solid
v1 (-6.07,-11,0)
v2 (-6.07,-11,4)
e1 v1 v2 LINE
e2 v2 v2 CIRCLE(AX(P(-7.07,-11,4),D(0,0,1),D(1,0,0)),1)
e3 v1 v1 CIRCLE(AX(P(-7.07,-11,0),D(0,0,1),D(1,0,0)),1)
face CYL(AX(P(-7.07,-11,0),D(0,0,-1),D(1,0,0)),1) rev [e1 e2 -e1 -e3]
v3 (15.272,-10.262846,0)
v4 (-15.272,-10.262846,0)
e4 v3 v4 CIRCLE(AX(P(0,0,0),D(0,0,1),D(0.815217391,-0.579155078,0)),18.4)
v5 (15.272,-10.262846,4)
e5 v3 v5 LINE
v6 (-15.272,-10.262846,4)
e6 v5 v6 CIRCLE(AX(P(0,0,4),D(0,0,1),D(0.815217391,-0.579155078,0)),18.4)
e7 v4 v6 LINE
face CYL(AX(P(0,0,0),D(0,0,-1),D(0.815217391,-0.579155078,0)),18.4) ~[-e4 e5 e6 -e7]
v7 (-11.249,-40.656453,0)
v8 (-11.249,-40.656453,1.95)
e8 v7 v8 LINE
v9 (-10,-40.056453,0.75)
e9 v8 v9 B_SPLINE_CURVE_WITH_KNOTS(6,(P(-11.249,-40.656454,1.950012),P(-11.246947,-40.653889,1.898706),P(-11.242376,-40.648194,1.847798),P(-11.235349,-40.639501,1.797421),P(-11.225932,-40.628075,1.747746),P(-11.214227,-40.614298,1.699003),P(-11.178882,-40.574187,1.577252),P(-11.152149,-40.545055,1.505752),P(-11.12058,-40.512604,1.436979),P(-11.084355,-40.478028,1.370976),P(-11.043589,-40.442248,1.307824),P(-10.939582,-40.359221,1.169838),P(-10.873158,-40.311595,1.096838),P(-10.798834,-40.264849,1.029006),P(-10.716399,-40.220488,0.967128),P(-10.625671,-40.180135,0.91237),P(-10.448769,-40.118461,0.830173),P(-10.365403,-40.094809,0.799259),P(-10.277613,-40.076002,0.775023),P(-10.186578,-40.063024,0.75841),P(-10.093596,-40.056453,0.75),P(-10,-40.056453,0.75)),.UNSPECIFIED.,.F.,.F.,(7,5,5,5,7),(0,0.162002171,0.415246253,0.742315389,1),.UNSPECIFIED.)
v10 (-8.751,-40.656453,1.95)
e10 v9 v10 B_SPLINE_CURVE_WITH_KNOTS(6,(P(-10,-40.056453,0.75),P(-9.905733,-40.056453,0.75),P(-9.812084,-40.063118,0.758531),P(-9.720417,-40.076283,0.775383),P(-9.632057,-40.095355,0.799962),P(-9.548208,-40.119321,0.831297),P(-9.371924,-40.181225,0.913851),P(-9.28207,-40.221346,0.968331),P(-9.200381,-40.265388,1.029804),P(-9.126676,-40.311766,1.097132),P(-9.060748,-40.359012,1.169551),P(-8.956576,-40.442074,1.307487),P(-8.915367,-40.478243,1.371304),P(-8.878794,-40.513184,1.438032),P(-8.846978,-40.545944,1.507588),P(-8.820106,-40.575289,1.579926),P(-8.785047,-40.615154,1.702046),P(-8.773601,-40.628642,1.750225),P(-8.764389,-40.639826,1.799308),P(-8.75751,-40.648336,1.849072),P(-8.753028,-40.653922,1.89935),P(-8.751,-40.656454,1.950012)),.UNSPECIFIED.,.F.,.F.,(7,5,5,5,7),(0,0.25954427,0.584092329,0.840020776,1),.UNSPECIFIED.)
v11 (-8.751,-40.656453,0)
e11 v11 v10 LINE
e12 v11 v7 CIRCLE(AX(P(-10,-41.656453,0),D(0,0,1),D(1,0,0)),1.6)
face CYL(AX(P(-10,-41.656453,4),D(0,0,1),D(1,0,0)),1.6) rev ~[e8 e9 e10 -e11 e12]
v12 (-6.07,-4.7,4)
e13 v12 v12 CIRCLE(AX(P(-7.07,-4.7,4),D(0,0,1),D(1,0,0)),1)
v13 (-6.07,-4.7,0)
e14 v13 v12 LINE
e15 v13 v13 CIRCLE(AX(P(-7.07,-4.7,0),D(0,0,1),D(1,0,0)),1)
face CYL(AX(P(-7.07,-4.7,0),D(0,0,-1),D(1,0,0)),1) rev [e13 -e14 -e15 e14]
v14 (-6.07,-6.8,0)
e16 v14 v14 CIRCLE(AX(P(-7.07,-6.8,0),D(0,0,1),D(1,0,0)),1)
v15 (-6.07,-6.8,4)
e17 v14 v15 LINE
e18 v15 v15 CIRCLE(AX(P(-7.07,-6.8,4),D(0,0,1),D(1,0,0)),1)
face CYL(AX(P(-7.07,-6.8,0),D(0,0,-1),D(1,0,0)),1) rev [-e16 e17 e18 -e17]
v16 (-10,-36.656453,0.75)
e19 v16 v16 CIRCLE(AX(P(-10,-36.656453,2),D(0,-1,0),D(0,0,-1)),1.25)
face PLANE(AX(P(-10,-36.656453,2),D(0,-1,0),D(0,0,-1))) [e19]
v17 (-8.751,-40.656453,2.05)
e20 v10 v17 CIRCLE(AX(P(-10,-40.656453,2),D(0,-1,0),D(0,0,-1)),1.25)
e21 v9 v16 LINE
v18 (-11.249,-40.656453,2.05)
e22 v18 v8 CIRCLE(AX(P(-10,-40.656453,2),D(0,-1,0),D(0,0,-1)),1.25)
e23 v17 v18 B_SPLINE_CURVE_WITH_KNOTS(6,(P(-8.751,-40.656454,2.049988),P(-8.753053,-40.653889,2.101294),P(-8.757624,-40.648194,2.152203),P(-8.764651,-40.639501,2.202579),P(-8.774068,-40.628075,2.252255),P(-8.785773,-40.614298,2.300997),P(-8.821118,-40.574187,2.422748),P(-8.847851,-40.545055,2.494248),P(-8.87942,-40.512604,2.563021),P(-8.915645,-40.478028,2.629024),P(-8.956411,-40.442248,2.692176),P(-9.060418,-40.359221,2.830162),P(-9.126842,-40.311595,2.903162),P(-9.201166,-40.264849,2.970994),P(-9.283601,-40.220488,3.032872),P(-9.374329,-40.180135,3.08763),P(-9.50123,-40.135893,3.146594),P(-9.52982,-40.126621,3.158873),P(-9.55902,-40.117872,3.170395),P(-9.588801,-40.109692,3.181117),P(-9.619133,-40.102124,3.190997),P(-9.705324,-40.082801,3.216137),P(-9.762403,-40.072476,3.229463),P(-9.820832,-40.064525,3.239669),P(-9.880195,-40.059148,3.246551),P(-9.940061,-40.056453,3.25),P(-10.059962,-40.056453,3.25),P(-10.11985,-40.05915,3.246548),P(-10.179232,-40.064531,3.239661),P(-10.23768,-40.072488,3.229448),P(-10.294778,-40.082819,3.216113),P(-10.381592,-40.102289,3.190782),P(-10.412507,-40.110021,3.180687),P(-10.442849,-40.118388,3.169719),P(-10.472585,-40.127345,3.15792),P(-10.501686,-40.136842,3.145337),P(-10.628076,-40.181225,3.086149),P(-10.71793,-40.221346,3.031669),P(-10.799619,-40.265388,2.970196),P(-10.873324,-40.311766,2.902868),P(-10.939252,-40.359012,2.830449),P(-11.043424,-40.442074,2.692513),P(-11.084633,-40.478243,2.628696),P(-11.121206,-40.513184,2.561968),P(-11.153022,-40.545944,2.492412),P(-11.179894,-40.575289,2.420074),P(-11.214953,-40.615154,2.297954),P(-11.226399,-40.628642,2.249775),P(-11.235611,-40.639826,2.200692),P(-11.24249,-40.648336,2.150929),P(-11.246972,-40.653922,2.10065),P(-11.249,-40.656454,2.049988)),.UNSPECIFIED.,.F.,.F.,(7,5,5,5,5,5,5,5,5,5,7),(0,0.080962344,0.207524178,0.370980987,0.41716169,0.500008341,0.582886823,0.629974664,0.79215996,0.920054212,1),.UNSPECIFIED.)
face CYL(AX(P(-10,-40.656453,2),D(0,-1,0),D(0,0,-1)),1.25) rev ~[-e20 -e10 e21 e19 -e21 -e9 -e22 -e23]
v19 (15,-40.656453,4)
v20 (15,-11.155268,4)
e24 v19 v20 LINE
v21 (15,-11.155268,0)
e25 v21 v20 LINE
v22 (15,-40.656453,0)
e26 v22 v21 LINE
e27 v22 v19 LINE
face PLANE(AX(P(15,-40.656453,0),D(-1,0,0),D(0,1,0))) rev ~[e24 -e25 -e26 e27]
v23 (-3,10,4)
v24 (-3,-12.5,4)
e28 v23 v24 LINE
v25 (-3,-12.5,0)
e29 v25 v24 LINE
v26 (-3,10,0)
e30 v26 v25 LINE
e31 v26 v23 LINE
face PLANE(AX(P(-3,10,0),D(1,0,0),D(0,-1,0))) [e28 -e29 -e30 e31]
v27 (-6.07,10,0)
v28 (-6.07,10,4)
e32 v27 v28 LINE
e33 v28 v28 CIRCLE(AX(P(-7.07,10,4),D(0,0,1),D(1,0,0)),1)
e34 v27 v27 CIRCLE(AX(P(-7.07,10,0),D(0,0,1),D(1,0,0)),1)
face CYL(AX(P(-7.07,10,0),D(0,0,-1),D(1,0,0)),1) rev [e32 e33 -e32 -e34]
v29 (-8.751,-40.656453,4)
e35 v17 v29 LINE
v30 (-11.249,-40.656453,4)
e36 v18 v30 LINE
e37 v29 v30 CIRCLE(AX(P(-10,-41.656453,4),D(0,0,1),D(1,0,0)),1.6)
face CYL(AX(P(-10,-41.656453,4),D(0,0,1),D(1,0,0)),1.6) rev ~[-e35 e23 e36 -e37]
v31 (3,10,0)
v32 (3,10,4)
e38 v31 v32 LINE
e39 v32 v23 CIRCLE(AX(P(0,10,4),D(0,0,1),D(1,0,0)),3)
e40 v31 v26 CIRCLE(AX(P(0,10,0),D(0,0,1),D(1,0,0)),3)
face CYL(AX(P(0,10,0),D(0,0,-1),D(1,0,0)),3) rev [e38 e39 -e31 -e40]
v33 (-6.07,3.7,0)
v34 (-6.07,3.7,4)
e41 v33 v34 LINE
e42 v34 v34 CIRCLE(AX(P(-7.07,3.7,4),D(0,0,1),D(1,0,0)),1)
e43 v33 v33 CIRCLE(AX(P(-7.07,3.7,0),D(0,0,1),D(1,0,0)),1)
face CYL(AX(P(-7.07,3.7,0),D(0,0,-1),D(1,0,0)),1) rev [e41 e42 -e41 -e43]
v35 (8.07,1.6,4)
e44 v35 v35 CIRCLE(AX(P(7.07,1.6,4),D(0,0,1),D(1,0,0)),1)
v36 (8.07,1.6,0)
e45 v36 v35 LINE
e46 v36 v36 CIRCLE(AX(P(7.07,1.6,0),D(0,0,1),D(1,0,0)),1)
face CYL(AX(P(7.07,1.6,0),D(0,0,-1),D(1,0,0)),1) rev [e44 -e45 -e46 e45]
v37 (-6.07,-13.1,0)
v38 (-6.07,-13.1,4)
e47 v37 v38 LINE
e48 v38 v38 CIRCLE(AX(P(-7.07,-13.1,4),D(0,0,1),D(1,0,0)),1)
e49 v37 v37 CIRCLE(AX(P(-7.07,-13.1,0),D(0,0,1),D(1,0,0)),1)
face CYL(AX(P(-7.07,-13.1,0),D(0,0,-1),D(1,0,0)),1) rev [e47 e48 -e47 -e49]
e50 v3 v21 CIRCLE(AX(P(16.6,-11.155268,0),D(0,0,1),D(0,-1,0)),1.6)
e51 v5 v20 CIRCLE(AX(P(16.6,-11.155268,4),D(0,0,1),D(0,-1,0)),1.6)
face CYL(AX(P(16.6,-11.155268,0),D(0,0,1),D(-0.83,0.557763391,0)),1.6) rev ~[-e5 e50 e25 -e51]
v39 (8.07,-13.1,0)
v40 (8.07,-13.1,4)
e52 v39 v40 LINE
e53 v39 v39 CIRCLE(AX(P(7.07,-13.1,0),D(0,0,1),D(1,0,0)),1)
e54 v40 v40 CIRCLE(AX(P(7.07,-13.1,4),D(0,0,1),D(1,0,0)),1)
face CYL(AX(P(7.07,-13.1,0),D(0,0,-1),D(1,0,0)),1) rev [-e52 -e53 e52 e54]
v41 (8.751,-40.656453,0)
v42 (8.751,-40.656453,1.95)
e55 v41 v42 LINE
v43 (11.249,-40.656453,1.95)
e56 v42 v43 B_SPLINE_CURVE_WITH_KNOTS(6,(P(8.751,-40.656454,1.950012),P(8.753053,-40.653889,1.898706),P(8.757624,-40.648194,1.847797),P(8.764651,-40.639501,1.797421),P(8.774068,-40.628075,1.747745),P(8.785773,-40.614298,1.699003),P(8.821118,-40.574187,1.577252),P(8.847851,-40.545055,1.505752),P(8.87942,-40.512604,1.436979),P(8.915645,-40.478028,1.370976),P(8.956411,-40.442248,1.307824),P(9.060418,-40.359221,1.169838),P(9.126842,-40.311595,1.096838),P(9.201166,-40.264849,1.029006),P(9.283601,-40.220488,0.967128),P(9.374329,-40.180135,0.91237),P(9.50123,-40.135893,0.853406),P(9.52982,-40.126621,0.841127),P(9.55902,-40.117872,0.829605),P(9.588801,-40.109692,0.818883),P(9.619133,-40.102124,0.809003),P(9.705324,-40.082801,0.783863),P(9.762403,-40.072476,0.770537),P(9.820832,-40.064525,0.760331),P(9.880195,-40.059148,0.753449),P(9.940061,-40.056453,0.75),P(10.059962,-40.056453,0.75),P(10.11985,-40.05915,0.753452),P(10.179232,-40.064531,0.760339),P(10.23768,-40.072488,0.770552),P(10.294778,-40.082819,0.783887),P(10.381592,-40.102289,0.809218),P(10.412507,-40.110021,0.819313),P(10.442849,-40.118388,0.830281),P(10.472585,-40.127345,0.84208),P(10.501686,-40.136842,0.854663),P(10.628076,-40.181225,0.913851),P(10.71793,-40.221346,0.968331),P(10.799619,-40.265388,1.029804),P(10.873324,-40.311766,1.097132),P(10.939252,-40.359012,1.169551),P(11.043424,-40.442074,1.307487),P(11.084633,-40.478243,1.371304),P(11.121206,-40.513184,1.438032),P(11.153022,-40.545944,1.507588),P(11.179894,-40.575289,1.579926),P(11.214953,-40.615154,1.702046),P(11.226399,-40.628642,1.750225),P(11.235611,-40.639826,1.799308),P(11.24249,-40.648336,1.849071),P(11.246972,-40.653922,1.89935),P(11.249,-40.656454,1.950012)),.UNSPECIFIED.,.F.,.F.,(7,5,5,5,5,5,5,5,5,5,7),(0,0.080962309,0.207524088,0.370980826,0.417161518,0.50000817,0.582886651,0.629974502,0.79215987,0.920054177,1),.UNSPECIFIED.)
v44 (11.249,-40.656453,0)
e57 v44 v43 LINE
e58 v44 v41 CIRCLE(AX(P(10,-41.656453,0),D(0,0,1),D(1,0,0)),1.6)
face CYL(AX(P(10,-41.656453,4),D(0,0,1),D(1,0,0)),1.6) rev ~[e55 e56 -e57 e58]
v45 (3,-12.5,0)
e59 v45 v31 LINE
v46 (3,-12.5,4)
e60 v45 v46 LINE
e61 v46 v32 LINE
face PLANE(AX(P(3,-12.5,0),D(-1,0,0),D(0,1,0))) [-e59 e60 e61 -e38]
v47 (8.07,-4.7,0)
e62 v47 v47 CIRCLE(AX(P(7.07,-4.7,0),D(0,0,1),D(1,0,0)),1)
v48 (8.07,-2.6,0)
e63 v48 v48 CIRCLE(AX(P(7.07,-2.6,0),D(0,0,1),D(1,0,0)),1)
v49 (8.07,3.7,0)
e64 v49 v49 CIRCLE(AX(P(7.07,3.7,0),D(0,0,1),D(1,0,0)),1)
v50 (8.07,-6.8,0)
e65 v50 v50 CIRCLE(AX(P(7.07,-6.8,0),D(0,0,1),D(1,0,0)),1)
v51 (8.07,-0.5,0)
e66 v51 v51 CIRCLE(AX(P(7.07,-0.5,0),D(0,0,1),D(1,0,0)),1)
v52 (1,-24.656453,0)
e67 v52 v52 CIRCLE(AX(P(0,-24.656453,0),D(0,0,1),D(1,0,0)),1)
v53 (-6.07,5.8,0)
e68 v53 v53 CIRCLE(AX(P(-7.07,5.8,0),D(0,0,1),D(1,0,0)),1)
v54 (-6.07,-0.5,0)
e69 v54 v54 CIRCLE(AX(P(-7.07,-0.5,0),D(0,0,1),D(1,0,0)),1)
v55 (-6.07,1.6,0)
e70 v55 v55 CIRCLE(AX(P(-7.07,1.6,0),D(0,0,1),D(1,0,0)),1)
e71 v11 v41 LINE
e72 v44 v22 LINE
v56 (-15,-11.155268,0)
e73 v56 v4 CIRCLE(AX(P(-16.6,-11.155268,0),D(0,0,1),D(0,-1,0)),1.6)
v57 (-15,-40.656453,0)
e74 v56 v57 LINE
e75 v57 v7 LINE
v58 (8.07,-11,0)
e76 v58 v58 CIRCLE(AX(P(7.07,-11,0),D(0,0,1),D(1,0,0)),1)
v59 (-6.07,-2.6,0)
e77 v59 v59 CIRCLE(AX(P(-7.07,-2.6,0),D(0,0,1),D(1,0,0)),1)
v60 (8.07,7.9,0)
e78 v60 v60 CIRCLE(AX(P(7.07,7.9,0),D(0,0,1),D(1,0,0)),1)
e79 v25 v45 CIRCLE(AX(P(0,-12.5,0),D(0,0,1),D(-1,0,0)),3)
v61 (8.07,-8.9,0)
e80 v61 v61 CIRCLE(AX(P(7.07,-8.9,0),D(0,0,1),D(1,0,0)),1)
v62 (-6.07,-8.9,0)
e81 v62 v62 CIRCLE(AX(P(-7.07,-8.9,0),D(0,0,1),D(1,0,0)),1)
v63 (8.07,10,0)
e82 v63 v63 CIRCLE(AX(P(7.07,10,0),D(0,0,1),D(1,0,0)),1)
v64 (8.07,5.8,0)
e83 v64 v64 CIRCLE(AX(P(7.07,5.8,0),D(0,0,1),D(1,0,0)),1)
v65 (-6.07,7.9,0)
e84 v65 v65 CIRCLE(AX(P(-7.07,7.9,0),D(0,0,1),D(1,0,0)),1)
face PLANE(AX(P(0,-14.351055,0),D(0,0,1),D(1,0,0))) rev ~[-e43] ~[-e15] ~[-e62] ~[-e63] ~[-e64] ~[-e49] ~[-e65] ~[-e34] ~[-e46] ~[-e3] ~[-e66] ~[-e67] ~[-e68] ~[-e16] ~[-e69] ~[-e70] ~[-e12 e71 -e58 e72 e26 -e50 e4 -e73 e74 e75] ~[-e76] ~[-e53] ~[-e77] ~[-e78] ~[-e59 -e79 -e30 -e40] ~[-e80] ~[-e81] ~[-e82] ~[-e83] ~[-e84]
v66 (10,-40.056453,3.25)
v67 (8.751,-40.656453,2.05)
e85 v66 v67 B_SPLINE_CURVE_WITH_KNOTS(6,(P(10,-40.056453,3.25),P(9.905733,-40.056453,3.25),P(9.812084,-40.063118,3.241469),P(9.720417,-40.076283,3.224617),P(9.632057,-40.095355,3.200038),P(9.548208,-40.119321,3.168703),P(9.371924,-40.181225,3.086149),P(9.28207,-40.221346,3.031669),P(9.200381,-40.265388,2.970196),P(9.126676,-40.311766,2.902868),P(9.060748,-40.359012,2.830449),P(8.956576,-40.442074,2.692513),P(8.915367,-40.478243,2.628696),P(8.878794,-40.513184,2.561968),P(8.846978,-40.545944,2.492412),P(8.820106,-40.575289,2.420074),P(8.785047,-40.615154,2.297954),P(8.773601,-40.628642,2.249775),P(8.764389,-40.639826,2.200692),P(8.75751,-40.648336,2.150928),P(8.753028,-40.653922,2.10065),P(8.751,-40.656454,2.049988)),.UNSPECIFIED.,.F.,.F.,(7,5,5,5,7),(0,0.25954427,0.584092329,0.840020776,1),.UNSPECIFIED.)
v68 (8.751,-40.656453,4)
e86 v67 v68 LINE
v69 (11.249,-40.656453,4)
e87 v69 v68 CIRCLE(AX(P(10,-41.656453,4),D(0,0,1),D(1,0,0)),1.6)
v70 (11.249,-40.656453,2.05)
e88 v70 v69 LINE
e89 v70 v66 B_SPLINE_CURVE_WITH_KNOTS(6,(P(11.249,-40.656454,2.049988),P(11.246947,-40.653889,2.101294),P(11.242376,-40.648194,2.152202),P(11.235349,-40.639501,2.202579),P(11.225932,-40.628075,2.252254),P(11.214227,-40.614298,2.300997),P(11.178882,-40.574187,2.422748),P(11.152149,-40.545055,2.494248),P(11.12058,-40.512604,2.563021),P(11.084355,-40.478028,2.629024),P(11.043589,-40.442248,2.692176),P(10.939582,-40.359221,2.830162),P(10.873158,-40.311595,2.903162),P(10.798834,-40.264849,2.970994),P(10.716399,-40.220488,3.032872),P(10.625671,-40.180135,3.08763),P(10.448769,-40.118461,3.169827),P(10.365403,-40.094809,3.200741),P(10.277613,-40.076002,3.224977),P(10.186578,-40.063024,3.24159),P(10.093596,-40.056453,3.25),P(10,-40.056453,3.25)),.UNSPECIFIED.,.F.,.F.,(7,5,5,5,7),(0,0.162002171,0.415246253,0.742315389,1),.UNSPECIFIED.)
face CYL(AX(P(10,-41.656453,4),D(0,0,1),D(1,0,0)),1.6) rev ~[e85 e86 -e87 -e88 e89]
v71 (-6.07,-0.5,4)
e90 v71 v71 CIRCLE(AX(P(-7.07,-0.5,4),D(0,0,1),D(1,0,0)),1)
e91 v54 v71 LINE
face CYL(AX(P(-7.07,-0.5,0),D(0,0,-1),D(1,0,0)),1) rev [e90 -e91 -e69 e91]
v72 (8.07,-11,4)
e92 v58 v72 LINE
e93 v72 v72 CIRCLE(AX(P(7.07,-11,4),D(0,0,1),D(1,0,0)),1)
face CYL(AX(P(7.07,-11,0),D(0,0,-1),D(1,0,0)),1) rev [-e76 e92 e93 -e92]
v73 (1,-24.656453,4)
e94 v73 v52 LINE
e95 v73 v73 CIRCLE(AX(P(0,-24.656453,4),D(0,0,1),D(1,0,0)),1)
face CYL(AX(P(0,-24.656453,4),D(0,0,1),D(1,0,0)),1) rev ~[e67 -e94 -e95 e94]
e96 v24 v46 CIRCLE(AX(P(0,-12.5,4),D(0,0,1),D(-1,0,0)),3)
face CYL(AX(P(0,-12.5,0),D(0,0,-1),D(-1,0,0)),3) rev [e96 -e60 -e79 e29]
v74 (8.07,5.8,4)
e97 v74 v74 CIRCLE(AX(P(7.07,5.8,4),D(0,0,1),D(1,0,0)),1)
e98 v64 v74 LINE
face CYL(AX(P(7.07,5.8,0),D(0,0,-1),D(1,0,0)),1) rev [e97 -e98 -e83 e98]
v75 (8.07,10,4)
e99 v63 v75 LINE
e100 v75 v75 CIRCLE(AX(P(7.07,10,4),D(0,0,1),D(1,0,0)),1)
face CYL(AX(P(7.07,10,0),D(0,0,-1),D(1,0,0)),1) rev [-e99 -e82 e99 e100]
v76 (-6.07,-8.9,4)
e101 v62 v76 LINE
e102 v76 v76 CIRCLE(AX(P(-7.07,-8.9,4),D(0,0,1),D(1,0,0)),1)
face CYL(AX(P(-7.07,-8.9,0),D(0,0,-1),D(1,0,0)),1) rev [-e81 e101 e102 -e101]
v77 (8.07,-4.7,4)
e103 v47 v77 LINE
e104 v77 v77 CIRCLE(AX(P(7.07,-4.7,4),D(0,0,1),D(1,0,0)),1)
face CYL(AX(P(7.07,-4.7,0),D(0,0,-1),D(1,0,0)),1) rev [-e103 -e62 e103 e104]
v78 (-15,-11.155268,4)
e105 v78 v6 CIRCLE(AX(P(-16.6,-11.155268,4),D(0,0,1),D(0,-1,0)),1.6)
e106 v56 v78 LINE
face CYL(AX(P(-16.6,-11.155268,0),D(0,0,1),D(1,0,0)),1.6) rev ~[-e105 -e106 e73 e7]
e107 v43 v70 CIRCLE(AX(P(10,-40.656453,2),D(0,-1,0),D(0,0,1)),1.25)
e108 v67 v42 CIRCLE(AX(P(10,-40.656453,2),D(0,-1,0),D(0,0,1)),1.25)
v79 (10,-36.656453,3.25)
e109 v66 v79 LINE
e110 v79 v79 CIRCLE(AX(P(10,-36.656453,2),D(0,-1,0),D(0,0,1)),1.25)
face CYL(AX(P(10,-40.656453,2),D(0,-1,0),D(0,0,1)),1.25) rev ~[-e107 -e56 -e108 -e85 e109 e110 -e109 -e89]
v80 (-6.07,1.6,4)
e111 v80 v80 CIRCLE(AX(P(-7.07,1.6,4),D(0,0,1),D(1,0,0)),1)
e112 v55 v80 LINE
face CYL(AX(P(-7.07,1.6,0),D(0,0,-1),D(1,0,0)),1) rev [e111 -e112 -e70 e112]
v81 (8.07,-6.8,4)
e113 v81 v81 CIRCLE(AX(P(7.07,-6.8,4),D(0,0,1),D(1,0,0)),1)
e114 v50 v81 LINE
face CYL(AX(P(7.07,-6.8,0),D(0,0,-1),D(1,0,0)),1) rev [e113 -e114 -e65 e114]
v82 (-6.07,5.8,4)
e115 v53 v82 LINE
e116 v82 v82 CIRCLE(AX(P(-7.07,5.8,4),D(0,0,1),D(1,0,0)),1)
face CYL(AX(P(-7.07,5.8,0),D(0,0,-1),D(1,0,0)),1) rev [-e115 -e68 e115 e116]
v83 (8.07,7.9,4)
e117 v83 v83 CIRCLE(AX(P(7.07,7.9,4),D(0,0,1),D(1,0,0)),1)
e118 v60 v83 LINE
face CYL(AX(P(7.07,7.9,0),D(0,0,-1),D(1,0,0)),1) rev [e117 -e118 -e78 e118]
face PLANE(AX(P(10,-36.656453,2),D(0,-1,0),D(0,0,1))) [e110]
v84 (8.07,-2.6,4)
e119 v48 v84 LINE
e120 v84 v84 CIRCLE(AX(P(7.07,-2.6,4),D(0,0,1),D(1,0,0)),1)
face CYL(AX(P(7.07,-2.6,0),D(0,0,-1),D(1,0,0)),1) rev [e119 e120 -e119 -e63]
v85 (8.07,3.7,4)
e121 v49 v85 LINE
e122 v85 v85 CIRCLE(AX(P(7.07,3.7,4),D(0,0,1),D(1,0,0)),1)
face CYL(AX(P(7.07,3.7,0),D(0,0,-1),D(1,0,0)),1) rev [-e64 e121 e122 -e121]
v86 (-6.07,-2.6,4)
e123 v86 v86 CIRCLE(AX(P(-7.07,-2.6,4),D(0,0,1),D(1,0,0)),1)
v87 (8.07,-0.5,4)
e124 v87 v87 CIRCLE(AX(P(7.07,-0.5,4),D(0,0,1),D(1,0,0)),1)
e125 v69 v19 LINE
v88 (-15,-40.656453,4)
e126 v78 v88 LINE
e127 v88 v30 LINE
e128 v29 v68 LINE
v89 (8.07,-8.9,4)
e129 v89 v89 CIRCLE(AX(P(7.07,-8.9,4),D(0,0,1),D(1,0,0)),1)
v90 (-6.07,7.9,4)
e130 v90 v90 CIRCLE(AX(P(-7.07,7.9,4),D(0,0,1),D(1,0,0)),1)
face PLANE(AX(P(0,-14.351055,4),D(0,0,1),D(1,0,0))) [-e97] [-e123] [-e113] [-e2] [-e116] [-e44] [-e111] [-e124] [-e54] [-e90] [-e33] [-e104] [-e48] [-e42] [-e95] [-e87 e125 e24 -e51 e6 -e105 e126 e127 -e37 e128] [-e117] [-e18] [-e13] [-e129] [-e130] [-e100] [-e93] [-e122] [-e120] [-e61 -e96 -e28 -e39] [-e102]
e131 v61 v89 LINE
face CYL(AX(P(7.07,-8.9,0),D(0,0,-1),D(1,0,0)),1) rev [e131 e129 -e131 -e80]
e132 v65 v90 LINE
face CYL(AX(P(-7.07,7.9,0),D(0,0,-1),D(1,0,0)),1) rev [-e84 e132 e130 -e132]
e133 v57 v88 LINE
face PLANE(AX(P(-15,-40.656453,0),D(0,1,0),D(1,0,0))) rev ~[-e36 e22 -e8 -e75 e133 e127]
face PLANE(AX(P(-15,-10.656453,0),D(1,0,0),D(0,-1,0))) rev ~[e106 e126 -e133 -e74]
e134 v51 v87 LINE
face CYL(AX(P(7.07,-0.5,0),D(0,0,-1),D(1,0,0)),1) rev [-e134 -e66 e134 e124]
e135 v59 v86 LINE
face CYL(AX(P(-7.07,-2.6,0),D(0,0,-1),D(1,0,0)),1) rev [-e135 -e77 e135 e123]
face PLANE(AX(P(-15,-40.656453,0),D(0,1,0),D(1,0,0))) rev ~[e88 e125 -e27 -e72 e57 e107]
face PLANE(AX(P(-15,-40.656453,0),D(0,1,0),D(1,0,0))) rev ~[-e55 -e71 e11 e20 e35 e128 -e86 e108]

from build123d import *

# Parameters (mm, degrees)
CROQUIS1_R              = 1
SALIENTE_EXTRUIR1_DEPTH = 4
CROQUIS3_R              = 1.25
CORTAR_EXTRUIR1_DEPTH   = 4
CROQUIS4_R              = 1.6
CORTAR_EXTRUIR2_DEPTH   = 4
REDONDEO1_R             = 1.6
CROQUIS5_R              = 1
CORTAR_EXTRUIR3_DEPTH   = 4


with BuildPart() as part:
    # Croquis1 → Saliente-Extruir1 (new body)
    with BuildSketch(Plane.XY):
        with BuildLine():
            Line((-15, -10.656453444), (-15, -40.656453444))
            Line((-15, -40.656453444), (15, -40.656453444))
            Line((15, -40.656453444), (15, -10.656453444))
            ThreePointArc((15, -10.656453444), (0, 18.4), (-15, -10.656453444))
        make_face()
        with Locations((-7.07, 10)):
            Circle(CROQUIS1_R, mode=Mode.SUBTRACT)
        with Locations((7.07, 10)):
            Circle(CROQUIS1_R, mode=Mode.SUBTRACT)
        with Locations((-7.07, 7.9)):
            Circle(CROQUIS1_R, mode=Mode.SUBTRACT)
        with Locations((7.07, 7.9)):
            Circle(CROQUIS1_R, mode=Mode.SUBTRACT)
        with Locations((-7.07, 5.8)):
            Circle(CROQUIS1_R, mode=Mode.SUBTRACT)
        with Locations((7.07, 5.8)):
            Circle(CROQUIS1_R, mode=Mode.SUBTRACT)
        with Locations((-7.07, 3.7)):
            Circle(CROQUIS1_R, mode=Mode.SUBTRACT)
        with Locations((7.07, 3.7)):
            Circle(CROQUIS1_R, mode=Mode.SUBTRACT)
        with Locations((-7.07, 1.6)):
            Circle(CROQUIS1_R, mode=Mode.SUBTRACT)
        with Locations((7.07, 1.6)):
            Circle(CROQUIS1_R, mode=Mode.SUBTRACT)
        with Locations((-7.07, -0.5)):
            Circle(CROQUIS1_R, mode=Mode.SUBTRACT)
        with Locations((7.07, -0.5)):
            Circle(CROQUIS1_R, mode=Mode.SUBTRACT)
        with Locations((-7.07, -2.6)):
            Circle(CROQUIS1_R, mode=Mode.SUBTRACT)
        with Locations((7.07, -2.6)):
            Circle(CROQUIS1_R, mode=Mode.SUBTRACT)
        with Locations((-7.07, -4.7)):
            Circle(CROQUIS1_R, mode=Mode.SUBTRACT)
        with Locations((7.07, -4.7)):
            Circle(CROQUIS1_R, mode=Mode.SUBTRACT)
        with Locations((-7.07, -6.8)):
            Circle(CROQUIS1_R, mode=Mode.SUBTRACT)
        with Locations((7.07, -6.8)):
            Circle(CROQUIS1_R, mode=Mode.SUBTRACT)
        with Locations((-7.07, -8.9)):
            Circle(CROQUIS1_R, mode=Mode.SUBTRACT)
        with Locations((7.07, -8.9)):
            Circle(CROQUIS1_R, mode=Mode.SUBTRACT)
        with Locations((-7.07, -11)):
            Circle(CROQUIS1_R, mode=Mode.SUBTRACT)
        with Locations((7.07, -11)):
            Circle(CROQUIS1_R, mode=Mode.SUBTRACT)
        with Locations((-7.07, -13.1)):
            Circle(CROQUIS1_R, mode=Mode.SUBTRACT)
        with Locations((7.07, -13.1)):
            Circle(CROQUIS1_R, mode=Mode.SUBTRACT)
        with BuildLine():
            Line((3, 0), (3, 10))
            ThreePointArc((3, 10), (0, 13), (-3, 10))
            Line((-3, 10), (-3, 0))
            Line((-3, 0), (-3, -12.5))
            ThreePointArc((-3, -12.5), (0, -15.5), (3, -12.5))
            Line((3, -12.5), (3, 0))
        make_face(mode=Mode.SUBTRACT)
    extrude(amount=SALIENTE_EXTRUIR1_DEPTH)

    # Croquis3 → Cortar-Extruir1 (cut)
    with BuildSketch(Plane.XZ.offset(40.656453444)):
        with Locations(Location((-10, 2, 0), (0, 0, 270))):
            Circle(CROQUIS3_R)
        with Locations(Location((10, 2, 0), (0, 0, 90))):
            Circle(CROQUIS3_R)
    extrude(amount=-CORTAR_EXTRUIR1_DEPTH, mode=Mode.SUBTRACT)

    # Croquis4 → Cortar-Extruir2 (cut)
    with BuildSketch(Plane.XY.offset(4)):
        with Locations((10, -41.656453444)):
            Circle(CROQUIS4_R)
        with Locations((-10, -41.656453444)):
            Circle(CROQUIS4_R)
    extrude(amount=-CORTAR_EXTRUIR2_DEPTH, mode=Mode.SUBTRACT)

    # Redondeo1
    redondeo1_edges = [part.edges().sort_by_distance(p)[0] for p in [
        (15, -10.656453444, 2),
        (-15, -10.656453444, 2),
    ]]
    fillet(redondeo1_edges, radius=REDONDEO1_R)

    # Croquis5 → Cortar-Extruir3 (cut)
    with BuildSketch(Plane.XY.offset(4)):
        with Locations((0, -24.656453444)):
            Circle(CROQUIS5_R)
    extrude(amount=-CORTAR_EXTRUIR3_DEPTH, mode=Mode.SUBTRACT)


solid = part.part
